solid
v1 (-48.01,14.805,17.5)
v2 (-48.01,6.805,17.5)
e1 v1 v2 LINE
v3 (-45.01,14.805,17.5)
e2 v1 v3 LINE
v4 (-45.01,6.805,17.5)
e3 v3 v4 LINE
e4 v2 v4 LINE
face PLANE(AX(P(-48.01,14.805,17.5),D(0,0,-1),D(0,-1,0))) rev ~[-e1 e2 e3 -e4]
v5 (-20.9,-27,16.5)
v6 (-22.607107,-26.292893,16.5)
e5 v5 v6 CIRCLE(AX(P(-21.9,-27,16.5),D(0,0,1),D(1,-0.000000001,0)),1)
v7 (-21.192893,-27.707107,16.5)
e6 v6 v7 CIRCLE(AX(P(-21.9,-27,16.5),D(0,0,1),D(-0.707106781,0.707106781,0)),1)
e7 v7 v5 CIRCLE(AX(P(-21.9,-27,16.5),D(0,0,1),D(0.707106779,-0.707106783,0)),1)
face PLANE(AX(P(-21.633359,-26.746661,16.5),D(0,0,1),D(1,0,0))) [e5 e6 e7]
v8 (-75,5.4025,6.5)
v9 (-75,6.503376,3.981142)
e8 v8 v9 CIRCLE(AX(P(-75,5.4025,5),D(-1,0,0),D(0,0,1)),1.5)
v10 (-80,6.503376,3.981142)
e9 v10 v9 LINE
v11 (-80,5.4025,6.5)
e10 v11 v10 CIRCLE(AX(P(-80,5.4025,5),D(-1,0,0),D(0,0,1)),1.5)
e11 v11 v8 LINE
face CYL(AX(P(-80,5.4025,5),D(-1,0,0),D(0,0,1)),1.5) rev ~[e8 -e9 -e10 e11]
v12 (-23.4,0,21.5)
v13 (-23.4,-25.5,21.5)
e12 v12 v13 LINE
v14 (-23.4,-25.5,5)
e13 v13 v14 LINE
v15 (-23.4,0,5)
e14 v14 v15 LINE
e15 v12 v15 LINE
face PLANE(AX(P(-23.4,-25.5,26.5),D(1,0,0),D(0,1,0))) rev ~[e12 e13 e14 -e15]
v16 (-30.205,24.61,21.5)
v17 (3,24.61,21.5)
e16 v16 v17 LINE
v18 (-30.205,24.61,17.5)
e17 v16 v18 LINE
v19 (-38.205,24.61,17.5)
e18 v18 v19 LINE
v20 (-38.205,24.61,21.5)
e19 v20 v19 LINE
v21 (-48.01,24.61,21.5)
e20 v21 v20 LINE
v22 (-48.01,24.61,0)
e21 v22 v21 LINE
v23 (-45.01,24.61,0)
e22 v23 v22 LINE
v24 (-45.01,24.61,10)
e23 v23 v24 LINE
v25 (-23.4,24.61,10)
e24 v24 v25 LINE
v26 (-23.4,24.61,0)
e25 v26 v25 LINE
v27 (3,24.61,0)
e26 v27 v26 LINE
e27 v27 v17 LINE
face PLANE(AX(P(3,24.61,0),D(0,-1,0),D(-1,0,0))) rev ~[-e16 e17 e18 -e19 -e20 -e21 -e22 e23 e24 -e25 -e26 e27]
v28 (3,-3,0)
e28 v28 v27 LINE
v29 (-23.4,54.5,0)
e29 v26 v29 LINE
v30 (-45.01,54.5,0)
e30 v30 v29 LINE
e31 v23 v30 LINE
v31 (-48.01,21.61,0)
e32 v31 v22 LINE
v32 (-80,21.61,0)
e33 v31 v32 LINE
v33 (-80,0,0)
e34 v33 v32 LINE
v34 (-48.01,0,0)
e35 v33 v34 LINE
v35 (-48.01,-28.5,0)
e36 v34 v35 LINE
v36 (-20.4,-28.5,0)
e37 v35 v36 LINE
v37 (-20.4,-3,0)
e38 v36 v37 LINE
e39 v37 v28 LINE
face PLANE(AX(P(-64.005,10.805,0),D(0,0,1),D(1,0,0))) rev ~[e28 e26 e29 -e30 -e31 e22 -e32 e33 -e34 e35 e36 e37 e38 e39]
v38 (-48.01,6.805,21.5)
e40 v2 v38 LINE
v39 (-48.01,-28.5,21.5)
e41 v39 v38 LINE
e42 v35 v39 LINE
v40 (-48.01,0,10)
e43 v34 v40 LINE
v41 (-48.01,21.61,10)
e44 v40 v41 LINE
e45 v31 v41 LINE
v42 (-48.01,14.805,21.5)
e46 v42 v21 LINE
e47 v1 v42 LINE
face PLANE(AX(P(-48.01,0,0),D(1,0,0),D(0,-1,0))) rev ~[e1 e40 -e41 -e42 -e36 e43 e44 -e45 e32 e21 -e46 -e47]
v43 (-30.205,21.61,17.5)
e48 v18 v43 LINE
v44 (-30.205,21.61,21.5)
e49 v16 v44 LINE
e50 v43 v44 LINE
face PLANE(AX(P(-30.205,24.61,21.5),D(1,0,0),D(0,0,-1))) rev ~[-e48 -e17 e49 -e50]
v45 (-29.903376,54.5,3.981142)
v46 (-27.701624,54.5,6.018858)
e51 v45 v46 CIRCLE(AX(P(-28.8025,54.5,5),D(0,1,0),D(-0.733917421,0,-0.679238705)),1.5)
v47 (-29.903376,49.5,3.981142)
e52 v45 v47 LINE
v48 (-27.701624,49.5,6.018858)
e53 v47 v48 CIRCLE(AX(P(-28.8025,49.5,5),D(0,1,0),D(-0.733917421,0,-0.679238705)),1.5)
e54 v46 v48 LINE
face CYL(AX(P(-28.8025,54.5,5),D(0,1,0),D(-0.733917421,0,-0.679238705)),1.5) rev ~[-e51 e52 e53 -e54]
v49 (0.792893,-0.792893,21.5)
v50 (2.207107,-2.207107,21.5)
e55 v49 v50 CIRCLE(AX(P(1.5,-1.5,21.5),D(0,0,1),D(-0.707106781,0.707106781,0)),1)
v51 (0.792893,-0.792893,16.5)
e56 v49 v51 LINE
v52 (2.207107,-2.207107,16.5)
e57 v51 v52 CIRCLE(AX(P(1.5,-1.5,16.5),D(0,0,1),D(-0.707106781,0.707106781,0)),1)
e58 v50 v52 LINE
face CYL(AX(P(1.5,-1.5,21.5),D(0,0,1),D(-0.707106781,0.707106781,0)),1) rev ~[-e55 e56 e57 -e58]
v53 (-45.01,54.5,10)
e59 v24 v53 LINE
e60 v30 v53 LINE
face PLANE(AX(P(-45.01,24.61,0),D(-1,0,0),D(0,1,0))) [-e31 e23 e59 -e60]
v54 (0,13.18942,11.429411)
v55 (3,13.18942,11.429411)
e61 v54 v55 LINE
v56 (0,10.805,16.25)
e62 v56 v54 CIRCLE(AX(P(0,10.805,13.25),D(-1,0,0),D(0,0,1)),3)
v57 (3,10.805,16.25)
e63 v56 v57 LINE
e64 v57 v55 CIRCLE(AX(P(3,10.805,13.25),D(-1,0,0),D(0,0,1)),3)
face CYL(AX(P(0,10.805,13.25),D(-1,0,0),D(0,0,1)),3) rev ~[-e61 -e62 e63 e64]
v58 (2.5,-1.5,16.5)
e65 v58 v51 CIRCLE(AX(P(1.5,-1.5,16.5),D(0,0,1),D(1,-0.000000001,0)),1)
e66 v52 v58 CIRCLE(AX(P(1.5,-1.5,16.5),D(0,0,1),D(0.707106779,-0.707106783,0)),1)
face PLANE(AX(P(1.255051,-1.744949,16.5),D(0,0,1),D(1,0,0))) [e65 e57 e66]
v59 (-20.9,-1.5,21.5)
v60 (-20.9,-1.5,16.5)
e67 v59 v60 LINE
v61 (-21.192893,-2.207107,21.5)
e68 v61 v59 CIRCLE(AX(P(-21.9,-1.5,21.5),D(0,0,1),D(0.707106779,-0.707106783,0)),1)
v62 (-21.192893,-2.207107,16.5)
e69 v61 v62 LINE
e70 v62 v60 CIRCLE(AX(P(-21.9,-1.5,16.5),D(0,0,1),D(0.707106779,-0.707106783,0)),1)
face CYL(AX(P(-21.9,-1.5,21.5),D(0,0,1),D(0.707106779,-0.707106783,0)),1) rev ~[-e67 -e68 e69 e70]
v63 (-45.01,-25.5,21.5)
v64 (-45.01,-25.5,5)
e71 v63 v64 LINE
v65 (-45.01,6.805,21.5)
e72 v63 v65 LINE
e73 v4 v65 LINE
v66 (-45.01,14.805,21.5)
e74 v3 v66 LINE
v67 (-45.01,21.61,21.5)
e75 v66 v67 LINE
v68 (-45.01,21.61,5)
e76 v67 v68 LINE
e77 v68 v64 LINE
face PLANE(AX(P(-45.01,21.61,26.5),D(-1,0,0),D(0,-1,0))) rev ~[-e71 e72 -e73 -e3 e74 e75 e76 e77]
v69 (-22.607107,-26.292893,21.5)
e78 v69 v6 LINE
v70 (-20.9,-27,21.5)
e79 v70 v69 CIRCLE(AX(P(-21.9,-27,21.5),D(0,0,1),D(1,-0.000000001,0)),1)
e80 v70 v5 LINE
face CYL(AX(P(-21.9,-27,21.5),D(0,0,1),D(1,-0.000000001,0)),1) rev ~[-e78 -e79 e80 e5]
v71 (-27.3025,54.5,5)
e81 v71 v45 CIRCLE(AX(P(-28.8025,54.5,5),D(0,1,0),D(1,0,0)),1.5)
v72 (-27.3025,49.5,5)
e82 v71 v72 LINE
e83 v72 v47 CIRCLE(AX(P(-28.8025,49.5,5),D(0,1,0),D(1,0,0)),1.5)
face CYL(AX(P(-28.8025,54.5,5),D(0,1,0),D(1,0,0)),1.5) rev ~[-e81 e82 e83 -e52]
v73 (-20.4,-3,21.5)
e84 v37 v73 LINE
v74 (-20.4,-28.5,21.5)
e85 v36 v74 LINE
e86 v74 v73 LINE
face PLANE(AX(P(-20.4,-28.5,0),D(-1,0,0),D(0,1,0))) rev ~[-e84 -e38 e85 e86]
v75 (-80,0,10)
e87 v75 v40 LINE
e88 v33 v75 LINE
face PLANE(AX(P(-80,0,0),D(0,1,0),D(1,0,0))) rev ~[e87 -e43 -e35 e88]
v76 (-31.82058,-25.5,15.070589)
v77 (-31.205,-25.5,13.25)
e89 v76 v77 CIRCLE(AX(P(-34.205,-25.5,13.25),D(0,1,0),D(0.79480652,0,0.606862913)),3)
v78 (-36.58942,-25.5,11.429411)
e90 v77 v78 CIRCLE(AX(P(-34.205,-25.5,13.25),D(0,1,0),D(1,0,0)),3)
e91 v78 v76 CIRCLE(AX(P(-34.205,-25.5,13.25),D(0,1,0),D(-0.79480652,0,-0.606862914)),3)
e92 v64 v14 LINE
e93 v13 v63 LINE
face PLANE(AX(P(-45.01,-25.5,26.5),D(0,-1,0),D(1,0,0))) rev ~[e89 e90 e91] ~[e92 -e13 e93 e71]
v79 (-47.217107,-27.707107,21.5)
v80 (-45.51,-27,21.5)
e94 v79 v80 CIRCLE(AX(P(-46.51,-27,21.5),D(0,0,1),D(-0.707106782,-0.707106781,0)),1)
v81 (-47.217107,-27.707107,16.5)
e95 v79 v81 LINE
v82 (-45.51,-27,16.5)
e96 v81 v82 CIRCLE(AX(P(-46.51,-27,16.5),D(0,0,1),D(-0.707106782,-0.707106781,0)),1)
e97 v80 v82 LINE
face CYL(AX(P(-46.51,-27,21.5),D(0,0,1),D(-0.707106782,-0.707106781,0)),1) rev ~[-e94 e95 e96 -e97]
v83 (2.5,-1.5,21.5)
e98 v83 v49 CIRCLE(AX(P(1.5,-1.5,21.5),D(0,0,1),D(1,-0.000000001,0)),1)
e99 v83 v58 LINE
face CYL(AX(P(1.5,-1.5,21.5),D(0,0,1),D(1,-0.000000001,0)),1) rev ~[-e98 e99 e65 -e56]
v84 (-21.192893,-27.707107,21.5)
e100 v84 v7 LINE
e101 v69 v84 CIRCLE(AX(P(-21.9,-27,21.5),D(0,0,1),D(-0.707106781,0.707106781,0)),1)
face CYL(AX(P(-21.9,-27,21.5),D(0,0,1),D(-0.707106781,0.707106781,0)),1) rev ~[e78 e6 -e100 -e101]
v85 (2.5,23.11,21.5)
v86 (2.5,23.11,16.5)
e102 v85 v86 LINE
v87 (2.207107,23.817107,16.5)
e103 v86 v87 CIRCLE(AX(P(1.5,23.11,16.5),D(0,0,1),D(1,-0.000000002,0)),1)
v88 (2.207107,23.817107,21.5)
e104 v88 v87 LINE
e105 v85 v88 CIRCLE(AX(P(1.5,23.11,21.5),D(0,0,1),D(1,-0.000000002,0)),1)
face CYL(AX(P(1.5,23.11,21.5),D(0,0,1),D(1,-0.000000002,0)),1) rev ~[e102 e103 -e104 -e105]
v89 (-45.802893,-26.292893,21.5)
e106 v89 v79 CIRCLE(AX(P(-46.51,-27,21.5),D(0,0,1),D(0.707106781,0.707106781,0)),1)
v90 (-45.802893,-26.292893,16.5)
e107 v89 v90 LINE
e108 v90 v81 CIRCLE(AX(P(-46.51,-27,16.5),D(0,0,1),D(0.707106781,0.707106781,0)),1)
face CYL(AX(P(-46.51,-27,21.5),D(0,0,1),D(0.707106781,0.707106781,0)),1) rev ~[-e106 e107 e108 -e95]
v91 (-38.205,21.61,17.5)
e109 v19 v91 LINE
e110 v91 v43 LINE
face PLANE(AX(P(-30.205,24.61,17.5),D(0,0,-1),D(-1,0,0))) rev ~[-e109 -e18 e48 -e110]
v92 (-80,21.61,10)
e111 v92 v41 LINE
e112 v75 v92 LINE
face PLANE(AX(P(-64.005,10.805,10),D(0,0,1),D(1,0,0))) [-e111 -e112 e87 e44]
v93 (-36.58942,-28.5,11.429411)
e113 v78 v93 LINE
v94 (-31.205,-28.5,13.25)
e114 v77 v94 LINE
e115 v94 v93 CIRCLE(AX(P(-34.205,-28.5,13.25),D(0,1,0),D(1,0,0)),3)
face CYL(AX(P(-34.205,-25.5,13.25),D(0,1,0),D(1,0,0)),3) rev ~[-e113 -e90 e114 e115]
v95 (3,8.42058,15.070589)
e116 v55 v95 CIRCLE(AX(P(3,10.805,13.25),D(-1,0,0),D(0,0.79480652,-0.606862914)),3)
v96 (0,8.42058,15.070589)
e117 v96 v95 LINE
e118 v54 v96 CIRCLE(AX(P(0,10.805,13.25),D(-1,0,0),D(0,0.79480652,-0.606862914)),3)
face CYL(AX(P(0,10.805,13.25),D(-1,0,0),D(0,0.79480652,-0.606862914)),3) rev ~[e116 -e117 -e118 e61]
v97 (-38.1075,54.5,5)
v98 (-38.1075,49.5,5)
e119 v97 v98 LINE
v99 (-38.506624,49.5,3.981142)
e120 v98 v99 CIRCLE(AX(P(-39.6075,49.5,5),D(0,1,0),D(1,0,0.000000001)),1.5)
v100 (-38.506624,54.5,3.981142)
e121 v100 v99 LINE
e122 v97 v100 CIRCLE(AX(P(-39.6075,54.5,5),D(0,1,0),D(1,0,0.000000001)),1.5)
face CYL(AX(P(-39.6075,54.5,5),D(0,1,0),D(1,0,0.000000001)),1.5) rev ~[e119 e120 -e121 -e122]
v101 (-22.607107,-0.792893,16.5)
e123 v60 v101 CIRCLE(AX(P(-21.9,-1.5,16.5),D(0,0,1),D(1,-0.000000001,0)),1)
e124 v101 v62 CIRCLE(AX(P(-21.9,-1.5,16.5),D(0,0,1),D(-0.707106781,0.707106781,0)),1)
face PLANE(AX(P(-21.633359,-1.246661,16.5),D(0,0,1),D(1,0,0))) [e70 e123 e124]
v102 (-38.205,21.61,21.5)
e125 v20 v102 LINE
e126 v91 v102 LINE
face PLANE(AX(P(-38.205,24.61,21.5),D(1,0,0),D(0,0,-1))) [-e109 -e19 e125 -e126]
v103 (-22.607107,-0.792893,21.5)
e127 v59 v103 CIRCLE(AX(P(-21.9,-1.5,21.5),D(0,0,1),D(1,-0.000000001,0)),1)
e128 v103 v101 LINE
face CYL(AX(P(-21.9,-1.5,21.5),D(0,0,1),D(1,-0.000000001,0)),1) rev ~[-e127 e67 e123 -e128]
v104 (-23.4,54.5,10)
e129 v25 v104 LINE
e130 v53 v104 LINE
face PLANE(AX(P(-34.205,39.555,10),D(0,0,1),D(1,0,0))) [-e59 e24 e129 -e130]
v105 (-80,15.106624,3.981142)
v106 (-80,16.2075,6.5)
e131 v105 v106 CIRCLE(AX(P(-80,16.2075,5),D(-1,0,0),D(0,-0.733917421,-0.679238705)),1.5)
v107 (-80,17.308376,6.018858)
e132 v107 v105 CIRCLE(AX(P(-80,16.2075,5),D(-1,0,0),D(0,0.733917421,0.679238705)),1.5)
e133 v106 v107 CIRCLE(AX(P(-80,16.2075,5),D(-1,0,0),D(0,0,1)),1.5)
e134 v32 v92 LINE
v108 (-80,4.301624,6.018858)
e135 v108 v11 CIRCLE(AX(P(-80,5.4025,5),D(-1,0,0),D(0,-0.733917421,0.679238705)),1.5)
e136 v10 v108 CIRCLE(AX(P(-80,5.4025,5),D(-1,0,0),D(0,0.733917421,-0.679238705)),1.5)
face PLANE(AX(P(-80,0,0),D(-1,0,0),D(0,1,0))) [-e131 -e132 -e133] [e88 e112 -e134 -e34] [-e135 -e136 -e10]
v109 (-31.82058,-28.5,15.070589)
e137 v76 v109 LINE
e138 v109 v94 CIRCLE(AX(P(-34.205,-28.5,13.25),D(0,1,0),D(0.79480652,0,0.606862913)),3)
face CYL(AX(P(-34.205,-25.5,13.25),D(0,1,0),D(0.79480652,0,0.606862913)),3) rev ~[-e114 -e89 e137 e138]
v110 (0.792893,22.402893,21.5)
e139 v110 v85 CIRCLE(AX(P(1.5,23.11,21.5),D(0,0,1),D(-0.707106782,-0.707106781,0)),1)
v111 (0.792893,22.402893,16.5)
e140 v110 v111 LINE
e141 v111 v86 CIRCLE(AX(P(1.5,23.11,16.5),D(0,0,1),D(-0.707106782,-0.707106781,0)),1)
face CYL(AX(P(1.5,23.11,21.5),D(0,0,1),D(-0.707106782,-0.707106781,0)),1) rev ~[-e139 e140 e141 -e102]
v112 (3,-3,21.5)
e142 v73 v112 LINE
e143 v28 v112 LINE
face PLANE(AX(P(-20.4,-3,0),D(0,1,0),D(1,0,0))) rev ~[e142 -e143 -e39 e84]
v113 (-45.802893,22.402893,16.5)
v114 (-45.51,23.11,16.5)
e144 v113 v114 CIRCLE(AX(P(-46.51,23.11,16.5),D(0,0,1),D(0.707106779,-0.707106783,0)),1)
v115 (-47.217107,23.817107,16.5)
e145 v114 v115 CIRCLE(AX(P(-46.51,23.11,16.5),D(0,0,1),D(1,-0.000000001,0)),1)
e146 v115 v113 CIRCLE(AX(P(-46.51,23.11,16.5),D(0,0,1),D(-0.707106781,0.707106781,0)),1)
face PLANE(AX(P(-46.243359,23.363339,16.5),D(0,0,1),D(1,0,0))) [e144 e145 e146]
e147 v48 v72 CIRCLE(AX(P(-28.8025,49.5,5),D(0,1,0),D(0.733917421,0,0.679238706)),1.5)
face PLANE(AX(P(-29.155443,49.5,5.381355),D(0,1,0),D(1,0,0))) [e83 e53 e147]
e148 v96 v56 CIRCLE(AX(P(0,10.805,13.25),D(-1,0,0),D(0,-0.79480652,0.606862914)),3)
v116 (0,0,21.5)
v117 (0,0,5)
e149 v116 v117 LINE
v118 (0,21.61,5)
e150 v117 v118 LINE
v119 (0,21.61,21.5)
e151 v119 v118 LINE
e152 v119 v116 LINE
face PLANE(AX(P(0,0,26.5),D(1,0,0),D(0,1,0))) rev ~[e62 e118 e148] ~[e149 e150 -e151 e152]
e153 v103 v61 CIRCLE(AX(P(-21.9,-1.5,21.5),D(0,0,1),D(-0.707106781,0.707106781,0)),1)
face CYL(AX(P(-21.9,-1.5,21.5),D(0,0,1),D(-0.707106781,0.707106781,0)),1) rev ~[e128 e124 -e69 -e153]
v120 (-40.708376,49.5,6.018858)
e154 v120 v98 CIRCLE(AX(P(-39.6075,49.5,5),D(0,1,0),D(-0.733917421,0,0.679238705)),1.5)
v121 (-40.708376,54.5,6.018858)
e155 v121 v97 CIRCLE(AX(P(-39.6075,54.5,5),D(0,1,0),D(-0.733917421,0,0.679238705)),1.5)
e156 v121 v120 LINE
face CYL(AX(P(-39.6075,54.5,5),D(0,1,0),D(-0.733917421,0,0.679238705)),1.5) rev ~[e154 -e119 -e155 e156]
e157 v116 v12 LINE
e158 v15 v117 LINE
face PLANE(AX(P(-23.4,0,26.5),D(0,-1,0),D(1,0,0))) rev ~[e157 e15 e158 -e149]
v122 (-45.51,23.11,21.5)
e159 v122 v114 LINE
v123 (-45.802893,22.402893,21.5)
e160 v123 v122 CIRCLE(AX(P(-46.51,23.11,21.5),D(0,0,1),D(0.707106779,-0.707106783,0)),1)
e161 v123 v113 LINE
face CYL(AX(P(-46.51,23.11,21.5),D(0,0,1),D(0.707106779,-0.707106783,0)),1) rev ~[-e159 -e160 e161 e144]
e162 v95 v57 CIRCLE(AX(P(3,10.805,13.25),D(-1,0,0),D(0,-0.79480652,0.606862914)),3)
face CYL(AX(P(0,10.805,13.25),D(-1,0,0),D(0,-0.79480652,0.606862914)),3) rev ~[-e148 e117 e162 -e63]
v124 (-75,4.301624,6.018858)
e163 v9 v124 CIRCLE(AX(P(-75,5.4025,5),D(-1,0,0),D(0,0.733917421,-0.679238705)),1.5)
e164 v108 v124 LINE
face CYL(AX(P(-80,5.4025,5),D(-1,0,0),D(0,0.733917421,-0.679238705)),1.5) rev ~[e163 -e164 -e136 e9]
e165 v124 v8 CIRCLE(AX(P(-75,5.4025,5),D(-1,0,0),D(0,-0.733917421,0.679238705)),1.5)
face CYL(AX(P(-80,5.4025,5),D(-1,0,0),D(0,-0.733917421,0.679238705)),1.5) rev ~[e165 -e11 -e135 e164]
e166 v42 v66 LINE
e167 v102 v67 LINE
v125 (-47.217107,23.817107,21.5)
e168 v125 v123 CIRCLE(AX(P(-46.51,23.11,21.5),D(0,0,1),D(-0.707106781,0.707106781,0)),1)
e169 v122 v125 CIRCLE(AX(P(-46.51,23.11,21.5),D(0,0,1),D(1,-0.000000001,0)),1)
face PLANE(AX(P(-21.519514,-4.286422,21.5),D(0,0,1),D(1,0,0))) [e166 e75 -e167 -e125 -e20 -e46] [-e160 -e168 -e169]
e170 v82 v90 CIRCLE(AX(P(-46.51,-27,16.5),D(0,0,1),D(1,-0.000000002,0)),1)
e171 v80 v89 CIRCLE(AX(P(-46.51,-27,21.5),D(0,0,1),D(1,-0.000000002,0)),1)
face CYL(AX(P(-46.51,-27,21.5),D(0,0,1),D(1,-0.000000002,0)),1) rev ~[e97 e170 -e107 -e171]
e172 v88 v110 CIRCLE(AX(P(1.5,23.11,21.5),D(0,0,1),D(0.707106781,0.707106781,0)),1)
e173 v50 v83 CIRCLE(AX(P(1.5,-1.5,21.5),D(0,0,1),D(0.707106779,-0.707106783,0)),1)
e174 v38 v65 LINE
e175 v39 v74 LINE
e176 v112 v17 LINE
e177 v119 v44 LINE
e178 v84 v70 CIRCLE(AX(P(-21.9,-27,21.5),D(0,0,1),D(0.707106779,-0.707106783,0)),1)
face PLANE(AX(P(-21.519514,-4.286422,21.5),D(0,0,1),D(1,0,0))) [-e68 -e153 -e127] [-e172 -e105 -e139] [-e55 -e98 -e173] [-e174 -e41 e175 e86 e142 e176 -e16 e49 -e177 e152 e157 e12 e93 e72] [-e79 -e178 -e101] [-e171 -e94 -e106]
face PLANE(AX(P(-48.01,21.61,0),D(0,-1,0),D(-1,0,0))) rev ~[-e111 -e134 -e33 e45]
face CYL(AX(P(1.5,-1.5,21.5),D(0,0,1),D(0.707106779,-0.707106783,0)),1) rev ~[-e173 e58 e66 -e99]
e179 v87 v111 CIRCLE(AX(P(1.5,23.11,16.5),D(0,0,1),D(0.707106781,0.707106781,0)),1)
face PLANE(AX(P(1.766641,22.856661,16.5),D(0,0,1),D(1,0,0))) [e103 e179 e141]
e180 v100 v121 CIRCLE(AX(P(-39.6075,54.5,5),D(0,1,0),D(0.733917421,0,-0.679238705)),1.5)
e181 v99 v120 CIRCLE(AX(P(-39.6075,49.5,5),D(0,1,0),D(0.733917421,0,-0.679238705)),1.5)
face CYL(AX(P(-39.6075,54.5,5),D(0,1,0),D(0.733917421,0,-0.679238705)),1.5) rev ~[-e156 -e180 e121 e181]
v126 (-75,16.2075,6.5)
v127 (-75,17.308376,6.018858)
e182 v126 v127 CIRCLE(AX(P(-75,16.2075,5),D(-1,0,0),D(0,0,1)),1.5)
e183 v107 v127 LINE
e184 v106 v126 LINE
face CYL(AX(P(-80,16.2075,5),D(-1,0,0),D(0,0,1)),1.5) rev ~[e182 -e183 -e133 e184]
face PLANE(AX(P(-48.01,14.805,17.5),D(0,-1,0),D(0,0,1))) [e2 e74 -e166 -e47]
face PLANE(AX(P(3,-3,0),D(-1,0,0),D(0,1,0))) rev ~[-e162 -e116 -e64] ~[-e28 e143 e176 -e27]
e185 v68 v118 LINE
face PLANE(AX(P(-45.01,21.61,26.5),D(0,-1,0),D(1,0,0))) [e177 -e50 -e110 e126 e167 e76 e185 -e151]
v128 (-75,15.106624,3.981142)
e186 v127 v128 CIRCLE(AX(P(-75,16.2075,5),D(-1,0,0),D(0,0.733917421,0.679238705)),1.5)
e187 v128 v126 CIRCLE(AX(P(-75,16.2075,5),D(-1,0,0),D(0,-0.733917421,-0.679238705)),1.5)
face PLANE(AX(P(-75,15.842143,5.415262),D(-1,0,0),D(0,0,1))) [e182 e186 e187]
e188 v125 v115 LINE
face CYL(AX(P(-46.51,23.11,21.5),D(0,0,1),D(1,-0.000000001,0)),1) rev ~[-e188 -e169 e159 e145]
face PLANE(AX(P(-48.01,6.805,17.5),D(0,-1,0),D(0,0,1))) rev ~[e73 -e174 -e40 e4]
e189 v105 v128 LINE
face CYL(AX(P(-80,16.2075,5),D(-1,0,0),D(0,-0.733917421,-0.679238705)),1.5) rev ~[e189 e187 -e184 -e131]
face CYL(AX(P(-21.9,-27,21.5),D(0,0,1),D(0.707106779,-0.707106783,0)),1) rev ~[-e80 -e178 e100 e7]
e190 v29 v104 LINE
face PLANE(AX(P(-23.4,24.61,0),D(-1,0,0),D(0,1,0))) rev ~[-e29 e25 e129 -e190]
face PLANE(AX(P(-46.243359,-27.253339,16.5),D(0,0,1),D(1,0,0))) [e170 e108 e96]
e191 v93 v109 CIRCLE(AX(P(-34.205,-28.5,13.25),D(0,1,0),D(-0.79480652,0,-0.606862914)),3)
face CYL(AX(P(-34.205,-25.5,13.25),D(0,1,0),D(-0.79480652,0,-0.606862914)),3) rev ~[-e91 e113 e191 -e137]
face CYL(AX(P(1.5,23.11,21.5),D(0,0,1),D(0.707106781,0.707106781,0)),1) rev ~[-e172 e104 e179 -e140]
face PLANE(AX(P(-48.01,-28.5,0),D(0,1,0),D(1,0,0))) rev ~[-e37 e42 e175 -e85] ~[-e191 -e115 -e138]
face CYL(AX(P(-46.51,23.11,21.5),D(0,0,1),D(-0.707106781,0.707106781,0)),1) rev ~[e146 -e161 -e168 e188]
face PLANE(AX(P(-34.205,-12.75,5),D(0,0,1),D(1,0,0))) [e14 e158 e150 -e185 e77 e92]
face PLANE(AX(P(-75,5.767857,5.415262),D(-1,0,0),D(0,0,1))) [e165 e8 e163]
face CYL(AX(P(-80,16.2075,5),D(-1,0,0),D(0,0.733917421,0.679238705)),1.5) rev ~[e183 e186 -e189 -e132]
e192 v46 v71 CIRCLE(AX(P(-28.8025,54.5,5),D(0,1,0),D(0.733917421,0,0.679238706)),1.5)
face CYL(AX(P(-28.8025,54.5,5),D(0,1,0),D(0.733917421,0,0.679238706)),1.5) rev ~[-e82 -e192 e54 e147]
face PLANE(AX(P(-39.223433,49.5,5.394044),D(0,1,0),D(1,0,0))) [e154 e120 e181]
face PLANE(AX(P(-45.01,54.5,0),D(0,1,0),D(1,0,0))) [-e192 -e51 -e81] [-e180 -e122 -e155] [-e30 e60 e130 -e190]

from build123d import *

# Parameters (mm, degrees)
ESQUISSE1_W              = 31.99
ESQUISSE1_H              = 21.61
ESQUISSE1_W_2            = 3
ESQUISSE1_H_2            = 3
ESQUISSE1_W_3            = 21.61
ESQUISSE1_H_3            = 29.89
ESQUISSE1_H_4            = 25.5
BOSS_EXTRU_1_DEPTH       = 26.5
ESQUISSE2_W              = 21.61
ESQUISSE2_H              = 25.5
ESQUISSE2_W_2            = 45.01
ESQUISSE2_H_2            = 21.61
ENL_V_MAT_EXTRU_1_DEPTH  = 21.5
ESQUISSE3_W              = 52.98097293
ESQUISSE3_H              = 57.792843893
ENL_V_MAT_EXTRU_2_DEPTH  = 5
ENL_V_MAT_EXTRU_3_DEPTH  = 5
ESQUISSE5_W              = 31.99
ESQUISSE5_H              = 21.61
ESQUISSE5_W_2            = 21.61
ESQUISSE5_H_2            = 29.89
ENL_V_MAT_EXTRU_4_DEPTH  = 16.5
ENL_V_MAT_EXTRU_5_DEPTH  = 16.5
ENL_V_MAT_EXTRU_6_DEPTH  = 16.5
ESQUISSE8_W              = 4
ESQUISSE8_H              = 4
ENL_V_MAT_EXTRU_7_DEPTH  = 16.5
ESQUISSE9_W              = 4
ESQUISSE9_H              = 4
ENL_V_MAT_EXTRU_8_DEPTH  = 16.5
ENL_V_MAT_EXTRU_9_DEPTH  = 5
ENL_V_MAT_EXTRU_10_DEPTH = 5


with BuildPart() as part:
    # Esquisse1 → Boss.-Extru.1 (new body)
    with BuildSketch(Plane.XY):
        with Locations((-64.005, 10.805)):
            Rectangle(ESQUISSE1_W, ESQUISSE1_H)
        Polygon((-23.4, 0), (0, 0), (0, 21.61), (-23.4, 21.61), (-45.01, 21.61), (-48.01, 21.61), (-48.01, 0), (-45.01, 0), align=None)
        with Locations((-46.51, 23.11)):
            Rectangle(ESQUISSE1_W_2, ESQUISSE1_H_2)
        with Locations((-34.205, 23.11)):
            Rectangle(ESQUISSE1_W_3, ESQUISSE1_H_2)
        with Locations((-34.205, 39.555)):
            Rectangle(ESQUISSE1_W_3, ESQUISSE1_H_3)
        Polygon((0, 21.61), (0, 0), (-23.4, 0), (-23.4, -25.5), (-45.01, -25.5), (-45.01, 0), (-48.01, 0), (-48.01, -28.5), (-20.4, -28.5), (-20.4, -3), (3, -3), (3, 24.61), (-23.4, 24.61), (-23.4, 21.61), align=None)
        with Locations((-34.205, -12.75)):
            Rectangle(ESQUISSE1_W_3, ESQUISSE1_H_4)
    extrude(amount=BOSS_EXTRU_1_DEPTH)

    # Esquisse2 → Enlèv. mat.-Extru.1 (cut)
    with BuildSketch(Plane.XY.offset(26.5)):
        with Locations((-34.205, -12.75)):
            Rectangle(ESQUISSE2_W, ESQUISSE2_H)
        with Locations((-22.505, 10.805)):
            Rectangle(ESQUISSE2_W_2, ESQUISSE2_H_2)
    extrude(amount=-ENL_V_MAT_EXTRU_1_DEPTH, mode=Mode.SUBTRACT)

    # Esquisse3 → Enlèv. mat.-Extru.2 (cut)
    with BuildSketch(Plane.XY.offset(26.5)):
        with Locations((-21.519513535, -4.286421947)):
            Rectangle(ESQUISSE3_W, ESQUISSE3_H)
    extrude(amount=-ENL_V_MAT_EXTRU_2_DEPTH, mode=Mode.SUBTRACT)

    # Esquisse4 → Enlèv. mat.-Extru.3 (cut)
    with BuildSketch(Plane.XY.offset(21.5)):
        with BuildLine():
            ThreePointArc((-20.9, -27), (-21.517316568, -26.076120467), (-22.607106781, -26.292893219))
            Line((-22.607106781, -26.292893219), (-21.192893219, -27.707106781))
            ThreePointArc((-21.192893219, -27.707106781), (-20.976120467, -27.382683432), (-20.9, -27))
        make_face()
        with BuildLine():
            Line((-21.192893219, -27.707106781), (-22.607106781, -26.292893219))
            ThreePointArc((-22.607106781, -26.292893219), (-22.607106781, -27.707106781), (-21.192893219, -27.707106781))
        make_face()
        with BuildLine():
            ThreePointArc((-45.51, -27), (-45.586120467, -26.617316568), (-45.802893219, -26.292893219))
            Line((-45.802893219, -26.292893219), (-47.217106781, -27.707106781))
            ThreePointArc((-47.217106781, -27.707106781), (-46.127316568, -27.923879533), (-45.51, -27))
        make_face()
        with BuildLine():
            Line((-47.217106781, -27.707106781), (-45.802893219, -26.292893219))
            ThreePointArc((-45.802893219, -26.292893219), (-47.217106781, -26.292893219), (-47.217106781, -27.707106781))
        make_face()
        with BuildLine():
            ThreePointArc((-45.51, 23.11), (-46.127316568, 24.033879533), (-47.217106781, 23.817106781))
            Line((-47.217106781, 23.817106781), (-45.802893219, 22.402893219))
            ThreePointArc((-45.802893219, 22.402893219), (-45.586120467, 22.727316568), (-45.51, 23.11))
        make_face()
        with BuildLine():
            Line((-45.802893219, 22.402893219), (-47.217106781, 23.817106781))
            ThreePointArc((-47.217106781, 23.817106781), (-47.217106781, 22.402893219), (-45.802893219, 22.402893219))
        make_face()
        with BuildLine():
            ThreePointArc((2.5, 23.11), (2.423879533, 23.492683432), (2.207106781, 23.817106781))
            Line((2.207106781, 23.817106781), (0.792893219, 22.402893219))
            ThreePointArc((0.792893219, 22.402893219), (1.882683432, 22.186120467), (2.5, 23.11))
        make_face()
        with BuildLine():
            Line((0.792893219, 22.402893219), (2.207106781, 23.817106781))
            ThreePointArc((2.207106781, 23.817106781), (0.792893219, 23.817106781), (0.792893219, 22.402893219))
        make_face()
        with BuildLine():
            ThreePointArc((0.792893219, -0.792893219), (0.792893219, -2.207106781), (2.207106781, -2.207106781))
            Line((2.207106781, -2.207106781), (0.792893219, -0.792893219))
        make_face()
        with BuildLine():
            Line((0.792893219, -0.792893219), (2.207106781, -2.207106781))
            ThreePointArc((2.207106781, -2.207106781), (2.423879533, -1.882683432), (2.5, -1.5))
            ThreePointArc((2.5, -1.5), (1.882683432, -0.576120467), (0.792893219, -0.792893219))
        make_face()
        with BuildLine():
            ThreePointArc((-20.9, -1.5), (-21.517316568, -0.576120467), (-22.607106781, -0.792893219))
            Line((-22.607106781, -0.792893219), (-21.192893219, -2.207106781))
            ThreePointArc((-21.192893219, -2.207106781), (-20.976120467, -1.882683432), (-20.9, -1.5))
        make_face()
        with BuildLine():
            Line((-21.192893219, -2.207106781), (-22.607106781, -0.792893219))
            ThreePointArc((-22.607106781, -0.792893219), (-22.607106781, -2.207106781), (-21.192893219, -2.207106781))
        make_face()
    extrude(amount=-ENL_V_MAT_EXTRU_3_DEPTH, mode=Mode.SUBTRACT)

    # Esquisse5 → Enlèv. mat.-Extru.4 (cut)
    with BuildSketch(Plane.XY.offset(26.5)):
        with Locations((-64.005, 10.805)):
            Rectangle(ESQUISSE5_W, ESQUISSE5_H)
        with Locations((-34.205, 39.555)):
            Rectangle(ESQUISSE5_W_2, ESQUISSE5_H_2)
    extrude(amount=-ENL_V_MAT_EXTRU_4_DEPTH, mode=Mode.SUBTRACT)

    # Esquisse6 → Enlèv. mat.-Extru.5 (cut)
    with BuildSketch(Plane.ZY):
        with BuildLine():
            ThreePointArc((16.25, 10.805), (14.580081534, 13.494030144), (11.429411258, 13.189419559))
            Line((11.429411258, 13.189419559), (15.070588742, 8.420580441))
            ThreePointArc((15.070588742, 8.420580441), (15.939030144, 9.474918466), (16.25, 10.805))
        make_face()
        with BuildLine():
            Line((15.070588742, 8.420580441), (11.429411258, 13.189419559))
            ThreePointArc((11.429411258, 13.189419559), (10.865580441, 8.984411258), (15.070588742, 8.420580441))
        make_face()
    extrude(amount=-ENL_V_MAT_EXTRU_5_DEPTH, mode=Mode.SUBTRACT)

    # Esquisse7 → Enlèv. mat.-Extru.6 (cut)
    with BuildSketch(Plane(origin=(0, -25.5, 0), x_dir=(1, 0, 0), z_dir=(0, 1, 0))):
        with BuildLine():
            ThreePointArc((-31.205, -13.25), (-33.244078223, -10.408058879), (-36.589419559, -11.429411258))
            Line((-36.589419559, -11.429411258), (-31.820580441, -15.070588742))
            ThreePointArc((-31.820580441, -15.070588742), (-31.363058879, -14.210921777), (-31.205, -13.25))
        make_face()
        with BuildLine():
            Line((-31.820580441, -15.070588742), (-36.589419559, -11.429411258))
            ThreePointArc((-36.589419559, -11.429411258), (-36.025588742, -15.634419559), (-31.820580441, -15.070588742))
        make_face()
    extrude(amount=-ENL_V_MAT_EXTRU_6_DEPTH, mode=Mode.SUBTRACT)

    # Esquisse8 → Enlèv. mat.-Extru.7 (cut)
    with BuildSketch(Plane(origin=(0, 24.61, 0), x_dir=(1, 0, 0), z_dir=(0, 1, 0))):
        with Locations((-32.205, -19.5)):
            Rectangle(ESQUISSE8_W, ESQUISSE8_H)
        with Locations((-36.205, -19.5)):
            Rectangle(ESQUISSE8_W, ESQUISSE8_H)
    extrude(amount=-ENL_V_MAT_EXTRU_7_DEPTH, mode=Mode.SUBTRACT)

    # Esquisse9 → Enlèv. mat.-Extru.8 (cut)
    with BuildSketch(Plane.ZY.offset(48.01)):
        with Locations((19.5, 8.805)):
            Rectangle(ESQUISSE9_W, ESQUISSE9_H)
        with Locations((19.5, 12.805)):
            Rectangle(ESQUISSE9_W, ESQUISSE9_H)
    extrude(amount=-ENL_V_MAT_EXTRU_8_DEPTH, mode=Mode.SUBTRACT)

    # Esquisse10 → Enlèv. mat.-Extru.9 (cut)
    with BuildSketch(Plane.ZY.offset(80)):
        with BuildLine():
            ThreePointArc((6.5, 16.2075), (6.374461183, 16.80821329), (6.018858058, 17.308376132))
            Line((6.018858058, 17.308376132), (3.981141942, 15.106623868))
            ThreePointArc((3.981141942, 15.106623868), (5.60071329, 14.833038817), (6.5, 16.2075))
        make_face()
        with BuildLine():
            Line((3.981141942, 15.106623868), (6.018858058, 17.308376132))
            ThreePointArc((6.018858058, 17.308376132), (3.899123868, 17.226358058), (3.981141942, 15.106623868))
        make_face()
        with BuildLine():
            ThreePointArc((6.5, 5.4025), (5.60071329, 6.776961183), (3.981141942, 6.503376132))
            Line((3.981141942, 6.503376132), (6.018858058, 4.301623868))
            ThreePointArc((6.018858058, 4.301623868), (6.374461183, 4.80178671), (6.5, 5.4025))
        make_face()
        with BuildLine():
            Line((6.018858058, 4.301623868), (3.981141942, 6.503376132))
            ThreePointArc((3.981141942, 6.503376132), (3.899123868, 4.383641942), (6.018858058, 4.301623868))
        make_face()
    extrude(amount=-ENL_V_MAT_EXTRU_9_DEPTH, mode=Mode.SUBTRACT)

    # Esquisse11 → Enlèv. mat.-Extru.10 (cut)
    with BuildSketch(Plane(origin=(0, 54.5, 0), x_dir=(1, 0, 0), z_dir=(0, 1, 0))):
        with BuildLine():
            ThreePointArc((-29.903376132, -3.981141942), (-29.821358058, -6.100876132), (-27.701623868, -6.018858058))
            Line((-27.701623868, -6.018858058), (-29.903376132, -3.981141942))
        make_face()
        with BuildLine():
            Line((-29.903376132, -3.981141942), (-27.701623868, -6.018858058))
            ThreePointArc((-27.701623868, -6.018858058), (-27.405840736, -5.547122382), (-27.3025, -5))
            ThreePointArc((-27.3025, -5), (-28.255377618, -3.603340736), (-29.903376132, -3.981141942))
        make_face()
        with BuildLine():
            ThreePointArc((-38.1075, -5), (-38.210840736, -4.452877618), (-38.506623868, -3.981141942))
            Line((-38.506623868, -3.981141942), (-40.708376132, -6.018858058))
            ThreePointArc((-40.708376132, -6.018858058), (-39.060377618, -6.396659264), (-38.1075, -5))
        make_face()
        with BuildLine():
            Line((-40.708376132, -6.018858058), (-38.506623868, -3.981141942))
            ThreePointArc((-38.506623868, -3.981141942), (-40.626358058, -3.899123868), (-40.708376132, -6.018858058))
        make_face()
    extrude(amount=-ENL_V_MAT_EXTRU_10_DEPTH, mode=Mode.SUBTRACT)


solid = part.part
